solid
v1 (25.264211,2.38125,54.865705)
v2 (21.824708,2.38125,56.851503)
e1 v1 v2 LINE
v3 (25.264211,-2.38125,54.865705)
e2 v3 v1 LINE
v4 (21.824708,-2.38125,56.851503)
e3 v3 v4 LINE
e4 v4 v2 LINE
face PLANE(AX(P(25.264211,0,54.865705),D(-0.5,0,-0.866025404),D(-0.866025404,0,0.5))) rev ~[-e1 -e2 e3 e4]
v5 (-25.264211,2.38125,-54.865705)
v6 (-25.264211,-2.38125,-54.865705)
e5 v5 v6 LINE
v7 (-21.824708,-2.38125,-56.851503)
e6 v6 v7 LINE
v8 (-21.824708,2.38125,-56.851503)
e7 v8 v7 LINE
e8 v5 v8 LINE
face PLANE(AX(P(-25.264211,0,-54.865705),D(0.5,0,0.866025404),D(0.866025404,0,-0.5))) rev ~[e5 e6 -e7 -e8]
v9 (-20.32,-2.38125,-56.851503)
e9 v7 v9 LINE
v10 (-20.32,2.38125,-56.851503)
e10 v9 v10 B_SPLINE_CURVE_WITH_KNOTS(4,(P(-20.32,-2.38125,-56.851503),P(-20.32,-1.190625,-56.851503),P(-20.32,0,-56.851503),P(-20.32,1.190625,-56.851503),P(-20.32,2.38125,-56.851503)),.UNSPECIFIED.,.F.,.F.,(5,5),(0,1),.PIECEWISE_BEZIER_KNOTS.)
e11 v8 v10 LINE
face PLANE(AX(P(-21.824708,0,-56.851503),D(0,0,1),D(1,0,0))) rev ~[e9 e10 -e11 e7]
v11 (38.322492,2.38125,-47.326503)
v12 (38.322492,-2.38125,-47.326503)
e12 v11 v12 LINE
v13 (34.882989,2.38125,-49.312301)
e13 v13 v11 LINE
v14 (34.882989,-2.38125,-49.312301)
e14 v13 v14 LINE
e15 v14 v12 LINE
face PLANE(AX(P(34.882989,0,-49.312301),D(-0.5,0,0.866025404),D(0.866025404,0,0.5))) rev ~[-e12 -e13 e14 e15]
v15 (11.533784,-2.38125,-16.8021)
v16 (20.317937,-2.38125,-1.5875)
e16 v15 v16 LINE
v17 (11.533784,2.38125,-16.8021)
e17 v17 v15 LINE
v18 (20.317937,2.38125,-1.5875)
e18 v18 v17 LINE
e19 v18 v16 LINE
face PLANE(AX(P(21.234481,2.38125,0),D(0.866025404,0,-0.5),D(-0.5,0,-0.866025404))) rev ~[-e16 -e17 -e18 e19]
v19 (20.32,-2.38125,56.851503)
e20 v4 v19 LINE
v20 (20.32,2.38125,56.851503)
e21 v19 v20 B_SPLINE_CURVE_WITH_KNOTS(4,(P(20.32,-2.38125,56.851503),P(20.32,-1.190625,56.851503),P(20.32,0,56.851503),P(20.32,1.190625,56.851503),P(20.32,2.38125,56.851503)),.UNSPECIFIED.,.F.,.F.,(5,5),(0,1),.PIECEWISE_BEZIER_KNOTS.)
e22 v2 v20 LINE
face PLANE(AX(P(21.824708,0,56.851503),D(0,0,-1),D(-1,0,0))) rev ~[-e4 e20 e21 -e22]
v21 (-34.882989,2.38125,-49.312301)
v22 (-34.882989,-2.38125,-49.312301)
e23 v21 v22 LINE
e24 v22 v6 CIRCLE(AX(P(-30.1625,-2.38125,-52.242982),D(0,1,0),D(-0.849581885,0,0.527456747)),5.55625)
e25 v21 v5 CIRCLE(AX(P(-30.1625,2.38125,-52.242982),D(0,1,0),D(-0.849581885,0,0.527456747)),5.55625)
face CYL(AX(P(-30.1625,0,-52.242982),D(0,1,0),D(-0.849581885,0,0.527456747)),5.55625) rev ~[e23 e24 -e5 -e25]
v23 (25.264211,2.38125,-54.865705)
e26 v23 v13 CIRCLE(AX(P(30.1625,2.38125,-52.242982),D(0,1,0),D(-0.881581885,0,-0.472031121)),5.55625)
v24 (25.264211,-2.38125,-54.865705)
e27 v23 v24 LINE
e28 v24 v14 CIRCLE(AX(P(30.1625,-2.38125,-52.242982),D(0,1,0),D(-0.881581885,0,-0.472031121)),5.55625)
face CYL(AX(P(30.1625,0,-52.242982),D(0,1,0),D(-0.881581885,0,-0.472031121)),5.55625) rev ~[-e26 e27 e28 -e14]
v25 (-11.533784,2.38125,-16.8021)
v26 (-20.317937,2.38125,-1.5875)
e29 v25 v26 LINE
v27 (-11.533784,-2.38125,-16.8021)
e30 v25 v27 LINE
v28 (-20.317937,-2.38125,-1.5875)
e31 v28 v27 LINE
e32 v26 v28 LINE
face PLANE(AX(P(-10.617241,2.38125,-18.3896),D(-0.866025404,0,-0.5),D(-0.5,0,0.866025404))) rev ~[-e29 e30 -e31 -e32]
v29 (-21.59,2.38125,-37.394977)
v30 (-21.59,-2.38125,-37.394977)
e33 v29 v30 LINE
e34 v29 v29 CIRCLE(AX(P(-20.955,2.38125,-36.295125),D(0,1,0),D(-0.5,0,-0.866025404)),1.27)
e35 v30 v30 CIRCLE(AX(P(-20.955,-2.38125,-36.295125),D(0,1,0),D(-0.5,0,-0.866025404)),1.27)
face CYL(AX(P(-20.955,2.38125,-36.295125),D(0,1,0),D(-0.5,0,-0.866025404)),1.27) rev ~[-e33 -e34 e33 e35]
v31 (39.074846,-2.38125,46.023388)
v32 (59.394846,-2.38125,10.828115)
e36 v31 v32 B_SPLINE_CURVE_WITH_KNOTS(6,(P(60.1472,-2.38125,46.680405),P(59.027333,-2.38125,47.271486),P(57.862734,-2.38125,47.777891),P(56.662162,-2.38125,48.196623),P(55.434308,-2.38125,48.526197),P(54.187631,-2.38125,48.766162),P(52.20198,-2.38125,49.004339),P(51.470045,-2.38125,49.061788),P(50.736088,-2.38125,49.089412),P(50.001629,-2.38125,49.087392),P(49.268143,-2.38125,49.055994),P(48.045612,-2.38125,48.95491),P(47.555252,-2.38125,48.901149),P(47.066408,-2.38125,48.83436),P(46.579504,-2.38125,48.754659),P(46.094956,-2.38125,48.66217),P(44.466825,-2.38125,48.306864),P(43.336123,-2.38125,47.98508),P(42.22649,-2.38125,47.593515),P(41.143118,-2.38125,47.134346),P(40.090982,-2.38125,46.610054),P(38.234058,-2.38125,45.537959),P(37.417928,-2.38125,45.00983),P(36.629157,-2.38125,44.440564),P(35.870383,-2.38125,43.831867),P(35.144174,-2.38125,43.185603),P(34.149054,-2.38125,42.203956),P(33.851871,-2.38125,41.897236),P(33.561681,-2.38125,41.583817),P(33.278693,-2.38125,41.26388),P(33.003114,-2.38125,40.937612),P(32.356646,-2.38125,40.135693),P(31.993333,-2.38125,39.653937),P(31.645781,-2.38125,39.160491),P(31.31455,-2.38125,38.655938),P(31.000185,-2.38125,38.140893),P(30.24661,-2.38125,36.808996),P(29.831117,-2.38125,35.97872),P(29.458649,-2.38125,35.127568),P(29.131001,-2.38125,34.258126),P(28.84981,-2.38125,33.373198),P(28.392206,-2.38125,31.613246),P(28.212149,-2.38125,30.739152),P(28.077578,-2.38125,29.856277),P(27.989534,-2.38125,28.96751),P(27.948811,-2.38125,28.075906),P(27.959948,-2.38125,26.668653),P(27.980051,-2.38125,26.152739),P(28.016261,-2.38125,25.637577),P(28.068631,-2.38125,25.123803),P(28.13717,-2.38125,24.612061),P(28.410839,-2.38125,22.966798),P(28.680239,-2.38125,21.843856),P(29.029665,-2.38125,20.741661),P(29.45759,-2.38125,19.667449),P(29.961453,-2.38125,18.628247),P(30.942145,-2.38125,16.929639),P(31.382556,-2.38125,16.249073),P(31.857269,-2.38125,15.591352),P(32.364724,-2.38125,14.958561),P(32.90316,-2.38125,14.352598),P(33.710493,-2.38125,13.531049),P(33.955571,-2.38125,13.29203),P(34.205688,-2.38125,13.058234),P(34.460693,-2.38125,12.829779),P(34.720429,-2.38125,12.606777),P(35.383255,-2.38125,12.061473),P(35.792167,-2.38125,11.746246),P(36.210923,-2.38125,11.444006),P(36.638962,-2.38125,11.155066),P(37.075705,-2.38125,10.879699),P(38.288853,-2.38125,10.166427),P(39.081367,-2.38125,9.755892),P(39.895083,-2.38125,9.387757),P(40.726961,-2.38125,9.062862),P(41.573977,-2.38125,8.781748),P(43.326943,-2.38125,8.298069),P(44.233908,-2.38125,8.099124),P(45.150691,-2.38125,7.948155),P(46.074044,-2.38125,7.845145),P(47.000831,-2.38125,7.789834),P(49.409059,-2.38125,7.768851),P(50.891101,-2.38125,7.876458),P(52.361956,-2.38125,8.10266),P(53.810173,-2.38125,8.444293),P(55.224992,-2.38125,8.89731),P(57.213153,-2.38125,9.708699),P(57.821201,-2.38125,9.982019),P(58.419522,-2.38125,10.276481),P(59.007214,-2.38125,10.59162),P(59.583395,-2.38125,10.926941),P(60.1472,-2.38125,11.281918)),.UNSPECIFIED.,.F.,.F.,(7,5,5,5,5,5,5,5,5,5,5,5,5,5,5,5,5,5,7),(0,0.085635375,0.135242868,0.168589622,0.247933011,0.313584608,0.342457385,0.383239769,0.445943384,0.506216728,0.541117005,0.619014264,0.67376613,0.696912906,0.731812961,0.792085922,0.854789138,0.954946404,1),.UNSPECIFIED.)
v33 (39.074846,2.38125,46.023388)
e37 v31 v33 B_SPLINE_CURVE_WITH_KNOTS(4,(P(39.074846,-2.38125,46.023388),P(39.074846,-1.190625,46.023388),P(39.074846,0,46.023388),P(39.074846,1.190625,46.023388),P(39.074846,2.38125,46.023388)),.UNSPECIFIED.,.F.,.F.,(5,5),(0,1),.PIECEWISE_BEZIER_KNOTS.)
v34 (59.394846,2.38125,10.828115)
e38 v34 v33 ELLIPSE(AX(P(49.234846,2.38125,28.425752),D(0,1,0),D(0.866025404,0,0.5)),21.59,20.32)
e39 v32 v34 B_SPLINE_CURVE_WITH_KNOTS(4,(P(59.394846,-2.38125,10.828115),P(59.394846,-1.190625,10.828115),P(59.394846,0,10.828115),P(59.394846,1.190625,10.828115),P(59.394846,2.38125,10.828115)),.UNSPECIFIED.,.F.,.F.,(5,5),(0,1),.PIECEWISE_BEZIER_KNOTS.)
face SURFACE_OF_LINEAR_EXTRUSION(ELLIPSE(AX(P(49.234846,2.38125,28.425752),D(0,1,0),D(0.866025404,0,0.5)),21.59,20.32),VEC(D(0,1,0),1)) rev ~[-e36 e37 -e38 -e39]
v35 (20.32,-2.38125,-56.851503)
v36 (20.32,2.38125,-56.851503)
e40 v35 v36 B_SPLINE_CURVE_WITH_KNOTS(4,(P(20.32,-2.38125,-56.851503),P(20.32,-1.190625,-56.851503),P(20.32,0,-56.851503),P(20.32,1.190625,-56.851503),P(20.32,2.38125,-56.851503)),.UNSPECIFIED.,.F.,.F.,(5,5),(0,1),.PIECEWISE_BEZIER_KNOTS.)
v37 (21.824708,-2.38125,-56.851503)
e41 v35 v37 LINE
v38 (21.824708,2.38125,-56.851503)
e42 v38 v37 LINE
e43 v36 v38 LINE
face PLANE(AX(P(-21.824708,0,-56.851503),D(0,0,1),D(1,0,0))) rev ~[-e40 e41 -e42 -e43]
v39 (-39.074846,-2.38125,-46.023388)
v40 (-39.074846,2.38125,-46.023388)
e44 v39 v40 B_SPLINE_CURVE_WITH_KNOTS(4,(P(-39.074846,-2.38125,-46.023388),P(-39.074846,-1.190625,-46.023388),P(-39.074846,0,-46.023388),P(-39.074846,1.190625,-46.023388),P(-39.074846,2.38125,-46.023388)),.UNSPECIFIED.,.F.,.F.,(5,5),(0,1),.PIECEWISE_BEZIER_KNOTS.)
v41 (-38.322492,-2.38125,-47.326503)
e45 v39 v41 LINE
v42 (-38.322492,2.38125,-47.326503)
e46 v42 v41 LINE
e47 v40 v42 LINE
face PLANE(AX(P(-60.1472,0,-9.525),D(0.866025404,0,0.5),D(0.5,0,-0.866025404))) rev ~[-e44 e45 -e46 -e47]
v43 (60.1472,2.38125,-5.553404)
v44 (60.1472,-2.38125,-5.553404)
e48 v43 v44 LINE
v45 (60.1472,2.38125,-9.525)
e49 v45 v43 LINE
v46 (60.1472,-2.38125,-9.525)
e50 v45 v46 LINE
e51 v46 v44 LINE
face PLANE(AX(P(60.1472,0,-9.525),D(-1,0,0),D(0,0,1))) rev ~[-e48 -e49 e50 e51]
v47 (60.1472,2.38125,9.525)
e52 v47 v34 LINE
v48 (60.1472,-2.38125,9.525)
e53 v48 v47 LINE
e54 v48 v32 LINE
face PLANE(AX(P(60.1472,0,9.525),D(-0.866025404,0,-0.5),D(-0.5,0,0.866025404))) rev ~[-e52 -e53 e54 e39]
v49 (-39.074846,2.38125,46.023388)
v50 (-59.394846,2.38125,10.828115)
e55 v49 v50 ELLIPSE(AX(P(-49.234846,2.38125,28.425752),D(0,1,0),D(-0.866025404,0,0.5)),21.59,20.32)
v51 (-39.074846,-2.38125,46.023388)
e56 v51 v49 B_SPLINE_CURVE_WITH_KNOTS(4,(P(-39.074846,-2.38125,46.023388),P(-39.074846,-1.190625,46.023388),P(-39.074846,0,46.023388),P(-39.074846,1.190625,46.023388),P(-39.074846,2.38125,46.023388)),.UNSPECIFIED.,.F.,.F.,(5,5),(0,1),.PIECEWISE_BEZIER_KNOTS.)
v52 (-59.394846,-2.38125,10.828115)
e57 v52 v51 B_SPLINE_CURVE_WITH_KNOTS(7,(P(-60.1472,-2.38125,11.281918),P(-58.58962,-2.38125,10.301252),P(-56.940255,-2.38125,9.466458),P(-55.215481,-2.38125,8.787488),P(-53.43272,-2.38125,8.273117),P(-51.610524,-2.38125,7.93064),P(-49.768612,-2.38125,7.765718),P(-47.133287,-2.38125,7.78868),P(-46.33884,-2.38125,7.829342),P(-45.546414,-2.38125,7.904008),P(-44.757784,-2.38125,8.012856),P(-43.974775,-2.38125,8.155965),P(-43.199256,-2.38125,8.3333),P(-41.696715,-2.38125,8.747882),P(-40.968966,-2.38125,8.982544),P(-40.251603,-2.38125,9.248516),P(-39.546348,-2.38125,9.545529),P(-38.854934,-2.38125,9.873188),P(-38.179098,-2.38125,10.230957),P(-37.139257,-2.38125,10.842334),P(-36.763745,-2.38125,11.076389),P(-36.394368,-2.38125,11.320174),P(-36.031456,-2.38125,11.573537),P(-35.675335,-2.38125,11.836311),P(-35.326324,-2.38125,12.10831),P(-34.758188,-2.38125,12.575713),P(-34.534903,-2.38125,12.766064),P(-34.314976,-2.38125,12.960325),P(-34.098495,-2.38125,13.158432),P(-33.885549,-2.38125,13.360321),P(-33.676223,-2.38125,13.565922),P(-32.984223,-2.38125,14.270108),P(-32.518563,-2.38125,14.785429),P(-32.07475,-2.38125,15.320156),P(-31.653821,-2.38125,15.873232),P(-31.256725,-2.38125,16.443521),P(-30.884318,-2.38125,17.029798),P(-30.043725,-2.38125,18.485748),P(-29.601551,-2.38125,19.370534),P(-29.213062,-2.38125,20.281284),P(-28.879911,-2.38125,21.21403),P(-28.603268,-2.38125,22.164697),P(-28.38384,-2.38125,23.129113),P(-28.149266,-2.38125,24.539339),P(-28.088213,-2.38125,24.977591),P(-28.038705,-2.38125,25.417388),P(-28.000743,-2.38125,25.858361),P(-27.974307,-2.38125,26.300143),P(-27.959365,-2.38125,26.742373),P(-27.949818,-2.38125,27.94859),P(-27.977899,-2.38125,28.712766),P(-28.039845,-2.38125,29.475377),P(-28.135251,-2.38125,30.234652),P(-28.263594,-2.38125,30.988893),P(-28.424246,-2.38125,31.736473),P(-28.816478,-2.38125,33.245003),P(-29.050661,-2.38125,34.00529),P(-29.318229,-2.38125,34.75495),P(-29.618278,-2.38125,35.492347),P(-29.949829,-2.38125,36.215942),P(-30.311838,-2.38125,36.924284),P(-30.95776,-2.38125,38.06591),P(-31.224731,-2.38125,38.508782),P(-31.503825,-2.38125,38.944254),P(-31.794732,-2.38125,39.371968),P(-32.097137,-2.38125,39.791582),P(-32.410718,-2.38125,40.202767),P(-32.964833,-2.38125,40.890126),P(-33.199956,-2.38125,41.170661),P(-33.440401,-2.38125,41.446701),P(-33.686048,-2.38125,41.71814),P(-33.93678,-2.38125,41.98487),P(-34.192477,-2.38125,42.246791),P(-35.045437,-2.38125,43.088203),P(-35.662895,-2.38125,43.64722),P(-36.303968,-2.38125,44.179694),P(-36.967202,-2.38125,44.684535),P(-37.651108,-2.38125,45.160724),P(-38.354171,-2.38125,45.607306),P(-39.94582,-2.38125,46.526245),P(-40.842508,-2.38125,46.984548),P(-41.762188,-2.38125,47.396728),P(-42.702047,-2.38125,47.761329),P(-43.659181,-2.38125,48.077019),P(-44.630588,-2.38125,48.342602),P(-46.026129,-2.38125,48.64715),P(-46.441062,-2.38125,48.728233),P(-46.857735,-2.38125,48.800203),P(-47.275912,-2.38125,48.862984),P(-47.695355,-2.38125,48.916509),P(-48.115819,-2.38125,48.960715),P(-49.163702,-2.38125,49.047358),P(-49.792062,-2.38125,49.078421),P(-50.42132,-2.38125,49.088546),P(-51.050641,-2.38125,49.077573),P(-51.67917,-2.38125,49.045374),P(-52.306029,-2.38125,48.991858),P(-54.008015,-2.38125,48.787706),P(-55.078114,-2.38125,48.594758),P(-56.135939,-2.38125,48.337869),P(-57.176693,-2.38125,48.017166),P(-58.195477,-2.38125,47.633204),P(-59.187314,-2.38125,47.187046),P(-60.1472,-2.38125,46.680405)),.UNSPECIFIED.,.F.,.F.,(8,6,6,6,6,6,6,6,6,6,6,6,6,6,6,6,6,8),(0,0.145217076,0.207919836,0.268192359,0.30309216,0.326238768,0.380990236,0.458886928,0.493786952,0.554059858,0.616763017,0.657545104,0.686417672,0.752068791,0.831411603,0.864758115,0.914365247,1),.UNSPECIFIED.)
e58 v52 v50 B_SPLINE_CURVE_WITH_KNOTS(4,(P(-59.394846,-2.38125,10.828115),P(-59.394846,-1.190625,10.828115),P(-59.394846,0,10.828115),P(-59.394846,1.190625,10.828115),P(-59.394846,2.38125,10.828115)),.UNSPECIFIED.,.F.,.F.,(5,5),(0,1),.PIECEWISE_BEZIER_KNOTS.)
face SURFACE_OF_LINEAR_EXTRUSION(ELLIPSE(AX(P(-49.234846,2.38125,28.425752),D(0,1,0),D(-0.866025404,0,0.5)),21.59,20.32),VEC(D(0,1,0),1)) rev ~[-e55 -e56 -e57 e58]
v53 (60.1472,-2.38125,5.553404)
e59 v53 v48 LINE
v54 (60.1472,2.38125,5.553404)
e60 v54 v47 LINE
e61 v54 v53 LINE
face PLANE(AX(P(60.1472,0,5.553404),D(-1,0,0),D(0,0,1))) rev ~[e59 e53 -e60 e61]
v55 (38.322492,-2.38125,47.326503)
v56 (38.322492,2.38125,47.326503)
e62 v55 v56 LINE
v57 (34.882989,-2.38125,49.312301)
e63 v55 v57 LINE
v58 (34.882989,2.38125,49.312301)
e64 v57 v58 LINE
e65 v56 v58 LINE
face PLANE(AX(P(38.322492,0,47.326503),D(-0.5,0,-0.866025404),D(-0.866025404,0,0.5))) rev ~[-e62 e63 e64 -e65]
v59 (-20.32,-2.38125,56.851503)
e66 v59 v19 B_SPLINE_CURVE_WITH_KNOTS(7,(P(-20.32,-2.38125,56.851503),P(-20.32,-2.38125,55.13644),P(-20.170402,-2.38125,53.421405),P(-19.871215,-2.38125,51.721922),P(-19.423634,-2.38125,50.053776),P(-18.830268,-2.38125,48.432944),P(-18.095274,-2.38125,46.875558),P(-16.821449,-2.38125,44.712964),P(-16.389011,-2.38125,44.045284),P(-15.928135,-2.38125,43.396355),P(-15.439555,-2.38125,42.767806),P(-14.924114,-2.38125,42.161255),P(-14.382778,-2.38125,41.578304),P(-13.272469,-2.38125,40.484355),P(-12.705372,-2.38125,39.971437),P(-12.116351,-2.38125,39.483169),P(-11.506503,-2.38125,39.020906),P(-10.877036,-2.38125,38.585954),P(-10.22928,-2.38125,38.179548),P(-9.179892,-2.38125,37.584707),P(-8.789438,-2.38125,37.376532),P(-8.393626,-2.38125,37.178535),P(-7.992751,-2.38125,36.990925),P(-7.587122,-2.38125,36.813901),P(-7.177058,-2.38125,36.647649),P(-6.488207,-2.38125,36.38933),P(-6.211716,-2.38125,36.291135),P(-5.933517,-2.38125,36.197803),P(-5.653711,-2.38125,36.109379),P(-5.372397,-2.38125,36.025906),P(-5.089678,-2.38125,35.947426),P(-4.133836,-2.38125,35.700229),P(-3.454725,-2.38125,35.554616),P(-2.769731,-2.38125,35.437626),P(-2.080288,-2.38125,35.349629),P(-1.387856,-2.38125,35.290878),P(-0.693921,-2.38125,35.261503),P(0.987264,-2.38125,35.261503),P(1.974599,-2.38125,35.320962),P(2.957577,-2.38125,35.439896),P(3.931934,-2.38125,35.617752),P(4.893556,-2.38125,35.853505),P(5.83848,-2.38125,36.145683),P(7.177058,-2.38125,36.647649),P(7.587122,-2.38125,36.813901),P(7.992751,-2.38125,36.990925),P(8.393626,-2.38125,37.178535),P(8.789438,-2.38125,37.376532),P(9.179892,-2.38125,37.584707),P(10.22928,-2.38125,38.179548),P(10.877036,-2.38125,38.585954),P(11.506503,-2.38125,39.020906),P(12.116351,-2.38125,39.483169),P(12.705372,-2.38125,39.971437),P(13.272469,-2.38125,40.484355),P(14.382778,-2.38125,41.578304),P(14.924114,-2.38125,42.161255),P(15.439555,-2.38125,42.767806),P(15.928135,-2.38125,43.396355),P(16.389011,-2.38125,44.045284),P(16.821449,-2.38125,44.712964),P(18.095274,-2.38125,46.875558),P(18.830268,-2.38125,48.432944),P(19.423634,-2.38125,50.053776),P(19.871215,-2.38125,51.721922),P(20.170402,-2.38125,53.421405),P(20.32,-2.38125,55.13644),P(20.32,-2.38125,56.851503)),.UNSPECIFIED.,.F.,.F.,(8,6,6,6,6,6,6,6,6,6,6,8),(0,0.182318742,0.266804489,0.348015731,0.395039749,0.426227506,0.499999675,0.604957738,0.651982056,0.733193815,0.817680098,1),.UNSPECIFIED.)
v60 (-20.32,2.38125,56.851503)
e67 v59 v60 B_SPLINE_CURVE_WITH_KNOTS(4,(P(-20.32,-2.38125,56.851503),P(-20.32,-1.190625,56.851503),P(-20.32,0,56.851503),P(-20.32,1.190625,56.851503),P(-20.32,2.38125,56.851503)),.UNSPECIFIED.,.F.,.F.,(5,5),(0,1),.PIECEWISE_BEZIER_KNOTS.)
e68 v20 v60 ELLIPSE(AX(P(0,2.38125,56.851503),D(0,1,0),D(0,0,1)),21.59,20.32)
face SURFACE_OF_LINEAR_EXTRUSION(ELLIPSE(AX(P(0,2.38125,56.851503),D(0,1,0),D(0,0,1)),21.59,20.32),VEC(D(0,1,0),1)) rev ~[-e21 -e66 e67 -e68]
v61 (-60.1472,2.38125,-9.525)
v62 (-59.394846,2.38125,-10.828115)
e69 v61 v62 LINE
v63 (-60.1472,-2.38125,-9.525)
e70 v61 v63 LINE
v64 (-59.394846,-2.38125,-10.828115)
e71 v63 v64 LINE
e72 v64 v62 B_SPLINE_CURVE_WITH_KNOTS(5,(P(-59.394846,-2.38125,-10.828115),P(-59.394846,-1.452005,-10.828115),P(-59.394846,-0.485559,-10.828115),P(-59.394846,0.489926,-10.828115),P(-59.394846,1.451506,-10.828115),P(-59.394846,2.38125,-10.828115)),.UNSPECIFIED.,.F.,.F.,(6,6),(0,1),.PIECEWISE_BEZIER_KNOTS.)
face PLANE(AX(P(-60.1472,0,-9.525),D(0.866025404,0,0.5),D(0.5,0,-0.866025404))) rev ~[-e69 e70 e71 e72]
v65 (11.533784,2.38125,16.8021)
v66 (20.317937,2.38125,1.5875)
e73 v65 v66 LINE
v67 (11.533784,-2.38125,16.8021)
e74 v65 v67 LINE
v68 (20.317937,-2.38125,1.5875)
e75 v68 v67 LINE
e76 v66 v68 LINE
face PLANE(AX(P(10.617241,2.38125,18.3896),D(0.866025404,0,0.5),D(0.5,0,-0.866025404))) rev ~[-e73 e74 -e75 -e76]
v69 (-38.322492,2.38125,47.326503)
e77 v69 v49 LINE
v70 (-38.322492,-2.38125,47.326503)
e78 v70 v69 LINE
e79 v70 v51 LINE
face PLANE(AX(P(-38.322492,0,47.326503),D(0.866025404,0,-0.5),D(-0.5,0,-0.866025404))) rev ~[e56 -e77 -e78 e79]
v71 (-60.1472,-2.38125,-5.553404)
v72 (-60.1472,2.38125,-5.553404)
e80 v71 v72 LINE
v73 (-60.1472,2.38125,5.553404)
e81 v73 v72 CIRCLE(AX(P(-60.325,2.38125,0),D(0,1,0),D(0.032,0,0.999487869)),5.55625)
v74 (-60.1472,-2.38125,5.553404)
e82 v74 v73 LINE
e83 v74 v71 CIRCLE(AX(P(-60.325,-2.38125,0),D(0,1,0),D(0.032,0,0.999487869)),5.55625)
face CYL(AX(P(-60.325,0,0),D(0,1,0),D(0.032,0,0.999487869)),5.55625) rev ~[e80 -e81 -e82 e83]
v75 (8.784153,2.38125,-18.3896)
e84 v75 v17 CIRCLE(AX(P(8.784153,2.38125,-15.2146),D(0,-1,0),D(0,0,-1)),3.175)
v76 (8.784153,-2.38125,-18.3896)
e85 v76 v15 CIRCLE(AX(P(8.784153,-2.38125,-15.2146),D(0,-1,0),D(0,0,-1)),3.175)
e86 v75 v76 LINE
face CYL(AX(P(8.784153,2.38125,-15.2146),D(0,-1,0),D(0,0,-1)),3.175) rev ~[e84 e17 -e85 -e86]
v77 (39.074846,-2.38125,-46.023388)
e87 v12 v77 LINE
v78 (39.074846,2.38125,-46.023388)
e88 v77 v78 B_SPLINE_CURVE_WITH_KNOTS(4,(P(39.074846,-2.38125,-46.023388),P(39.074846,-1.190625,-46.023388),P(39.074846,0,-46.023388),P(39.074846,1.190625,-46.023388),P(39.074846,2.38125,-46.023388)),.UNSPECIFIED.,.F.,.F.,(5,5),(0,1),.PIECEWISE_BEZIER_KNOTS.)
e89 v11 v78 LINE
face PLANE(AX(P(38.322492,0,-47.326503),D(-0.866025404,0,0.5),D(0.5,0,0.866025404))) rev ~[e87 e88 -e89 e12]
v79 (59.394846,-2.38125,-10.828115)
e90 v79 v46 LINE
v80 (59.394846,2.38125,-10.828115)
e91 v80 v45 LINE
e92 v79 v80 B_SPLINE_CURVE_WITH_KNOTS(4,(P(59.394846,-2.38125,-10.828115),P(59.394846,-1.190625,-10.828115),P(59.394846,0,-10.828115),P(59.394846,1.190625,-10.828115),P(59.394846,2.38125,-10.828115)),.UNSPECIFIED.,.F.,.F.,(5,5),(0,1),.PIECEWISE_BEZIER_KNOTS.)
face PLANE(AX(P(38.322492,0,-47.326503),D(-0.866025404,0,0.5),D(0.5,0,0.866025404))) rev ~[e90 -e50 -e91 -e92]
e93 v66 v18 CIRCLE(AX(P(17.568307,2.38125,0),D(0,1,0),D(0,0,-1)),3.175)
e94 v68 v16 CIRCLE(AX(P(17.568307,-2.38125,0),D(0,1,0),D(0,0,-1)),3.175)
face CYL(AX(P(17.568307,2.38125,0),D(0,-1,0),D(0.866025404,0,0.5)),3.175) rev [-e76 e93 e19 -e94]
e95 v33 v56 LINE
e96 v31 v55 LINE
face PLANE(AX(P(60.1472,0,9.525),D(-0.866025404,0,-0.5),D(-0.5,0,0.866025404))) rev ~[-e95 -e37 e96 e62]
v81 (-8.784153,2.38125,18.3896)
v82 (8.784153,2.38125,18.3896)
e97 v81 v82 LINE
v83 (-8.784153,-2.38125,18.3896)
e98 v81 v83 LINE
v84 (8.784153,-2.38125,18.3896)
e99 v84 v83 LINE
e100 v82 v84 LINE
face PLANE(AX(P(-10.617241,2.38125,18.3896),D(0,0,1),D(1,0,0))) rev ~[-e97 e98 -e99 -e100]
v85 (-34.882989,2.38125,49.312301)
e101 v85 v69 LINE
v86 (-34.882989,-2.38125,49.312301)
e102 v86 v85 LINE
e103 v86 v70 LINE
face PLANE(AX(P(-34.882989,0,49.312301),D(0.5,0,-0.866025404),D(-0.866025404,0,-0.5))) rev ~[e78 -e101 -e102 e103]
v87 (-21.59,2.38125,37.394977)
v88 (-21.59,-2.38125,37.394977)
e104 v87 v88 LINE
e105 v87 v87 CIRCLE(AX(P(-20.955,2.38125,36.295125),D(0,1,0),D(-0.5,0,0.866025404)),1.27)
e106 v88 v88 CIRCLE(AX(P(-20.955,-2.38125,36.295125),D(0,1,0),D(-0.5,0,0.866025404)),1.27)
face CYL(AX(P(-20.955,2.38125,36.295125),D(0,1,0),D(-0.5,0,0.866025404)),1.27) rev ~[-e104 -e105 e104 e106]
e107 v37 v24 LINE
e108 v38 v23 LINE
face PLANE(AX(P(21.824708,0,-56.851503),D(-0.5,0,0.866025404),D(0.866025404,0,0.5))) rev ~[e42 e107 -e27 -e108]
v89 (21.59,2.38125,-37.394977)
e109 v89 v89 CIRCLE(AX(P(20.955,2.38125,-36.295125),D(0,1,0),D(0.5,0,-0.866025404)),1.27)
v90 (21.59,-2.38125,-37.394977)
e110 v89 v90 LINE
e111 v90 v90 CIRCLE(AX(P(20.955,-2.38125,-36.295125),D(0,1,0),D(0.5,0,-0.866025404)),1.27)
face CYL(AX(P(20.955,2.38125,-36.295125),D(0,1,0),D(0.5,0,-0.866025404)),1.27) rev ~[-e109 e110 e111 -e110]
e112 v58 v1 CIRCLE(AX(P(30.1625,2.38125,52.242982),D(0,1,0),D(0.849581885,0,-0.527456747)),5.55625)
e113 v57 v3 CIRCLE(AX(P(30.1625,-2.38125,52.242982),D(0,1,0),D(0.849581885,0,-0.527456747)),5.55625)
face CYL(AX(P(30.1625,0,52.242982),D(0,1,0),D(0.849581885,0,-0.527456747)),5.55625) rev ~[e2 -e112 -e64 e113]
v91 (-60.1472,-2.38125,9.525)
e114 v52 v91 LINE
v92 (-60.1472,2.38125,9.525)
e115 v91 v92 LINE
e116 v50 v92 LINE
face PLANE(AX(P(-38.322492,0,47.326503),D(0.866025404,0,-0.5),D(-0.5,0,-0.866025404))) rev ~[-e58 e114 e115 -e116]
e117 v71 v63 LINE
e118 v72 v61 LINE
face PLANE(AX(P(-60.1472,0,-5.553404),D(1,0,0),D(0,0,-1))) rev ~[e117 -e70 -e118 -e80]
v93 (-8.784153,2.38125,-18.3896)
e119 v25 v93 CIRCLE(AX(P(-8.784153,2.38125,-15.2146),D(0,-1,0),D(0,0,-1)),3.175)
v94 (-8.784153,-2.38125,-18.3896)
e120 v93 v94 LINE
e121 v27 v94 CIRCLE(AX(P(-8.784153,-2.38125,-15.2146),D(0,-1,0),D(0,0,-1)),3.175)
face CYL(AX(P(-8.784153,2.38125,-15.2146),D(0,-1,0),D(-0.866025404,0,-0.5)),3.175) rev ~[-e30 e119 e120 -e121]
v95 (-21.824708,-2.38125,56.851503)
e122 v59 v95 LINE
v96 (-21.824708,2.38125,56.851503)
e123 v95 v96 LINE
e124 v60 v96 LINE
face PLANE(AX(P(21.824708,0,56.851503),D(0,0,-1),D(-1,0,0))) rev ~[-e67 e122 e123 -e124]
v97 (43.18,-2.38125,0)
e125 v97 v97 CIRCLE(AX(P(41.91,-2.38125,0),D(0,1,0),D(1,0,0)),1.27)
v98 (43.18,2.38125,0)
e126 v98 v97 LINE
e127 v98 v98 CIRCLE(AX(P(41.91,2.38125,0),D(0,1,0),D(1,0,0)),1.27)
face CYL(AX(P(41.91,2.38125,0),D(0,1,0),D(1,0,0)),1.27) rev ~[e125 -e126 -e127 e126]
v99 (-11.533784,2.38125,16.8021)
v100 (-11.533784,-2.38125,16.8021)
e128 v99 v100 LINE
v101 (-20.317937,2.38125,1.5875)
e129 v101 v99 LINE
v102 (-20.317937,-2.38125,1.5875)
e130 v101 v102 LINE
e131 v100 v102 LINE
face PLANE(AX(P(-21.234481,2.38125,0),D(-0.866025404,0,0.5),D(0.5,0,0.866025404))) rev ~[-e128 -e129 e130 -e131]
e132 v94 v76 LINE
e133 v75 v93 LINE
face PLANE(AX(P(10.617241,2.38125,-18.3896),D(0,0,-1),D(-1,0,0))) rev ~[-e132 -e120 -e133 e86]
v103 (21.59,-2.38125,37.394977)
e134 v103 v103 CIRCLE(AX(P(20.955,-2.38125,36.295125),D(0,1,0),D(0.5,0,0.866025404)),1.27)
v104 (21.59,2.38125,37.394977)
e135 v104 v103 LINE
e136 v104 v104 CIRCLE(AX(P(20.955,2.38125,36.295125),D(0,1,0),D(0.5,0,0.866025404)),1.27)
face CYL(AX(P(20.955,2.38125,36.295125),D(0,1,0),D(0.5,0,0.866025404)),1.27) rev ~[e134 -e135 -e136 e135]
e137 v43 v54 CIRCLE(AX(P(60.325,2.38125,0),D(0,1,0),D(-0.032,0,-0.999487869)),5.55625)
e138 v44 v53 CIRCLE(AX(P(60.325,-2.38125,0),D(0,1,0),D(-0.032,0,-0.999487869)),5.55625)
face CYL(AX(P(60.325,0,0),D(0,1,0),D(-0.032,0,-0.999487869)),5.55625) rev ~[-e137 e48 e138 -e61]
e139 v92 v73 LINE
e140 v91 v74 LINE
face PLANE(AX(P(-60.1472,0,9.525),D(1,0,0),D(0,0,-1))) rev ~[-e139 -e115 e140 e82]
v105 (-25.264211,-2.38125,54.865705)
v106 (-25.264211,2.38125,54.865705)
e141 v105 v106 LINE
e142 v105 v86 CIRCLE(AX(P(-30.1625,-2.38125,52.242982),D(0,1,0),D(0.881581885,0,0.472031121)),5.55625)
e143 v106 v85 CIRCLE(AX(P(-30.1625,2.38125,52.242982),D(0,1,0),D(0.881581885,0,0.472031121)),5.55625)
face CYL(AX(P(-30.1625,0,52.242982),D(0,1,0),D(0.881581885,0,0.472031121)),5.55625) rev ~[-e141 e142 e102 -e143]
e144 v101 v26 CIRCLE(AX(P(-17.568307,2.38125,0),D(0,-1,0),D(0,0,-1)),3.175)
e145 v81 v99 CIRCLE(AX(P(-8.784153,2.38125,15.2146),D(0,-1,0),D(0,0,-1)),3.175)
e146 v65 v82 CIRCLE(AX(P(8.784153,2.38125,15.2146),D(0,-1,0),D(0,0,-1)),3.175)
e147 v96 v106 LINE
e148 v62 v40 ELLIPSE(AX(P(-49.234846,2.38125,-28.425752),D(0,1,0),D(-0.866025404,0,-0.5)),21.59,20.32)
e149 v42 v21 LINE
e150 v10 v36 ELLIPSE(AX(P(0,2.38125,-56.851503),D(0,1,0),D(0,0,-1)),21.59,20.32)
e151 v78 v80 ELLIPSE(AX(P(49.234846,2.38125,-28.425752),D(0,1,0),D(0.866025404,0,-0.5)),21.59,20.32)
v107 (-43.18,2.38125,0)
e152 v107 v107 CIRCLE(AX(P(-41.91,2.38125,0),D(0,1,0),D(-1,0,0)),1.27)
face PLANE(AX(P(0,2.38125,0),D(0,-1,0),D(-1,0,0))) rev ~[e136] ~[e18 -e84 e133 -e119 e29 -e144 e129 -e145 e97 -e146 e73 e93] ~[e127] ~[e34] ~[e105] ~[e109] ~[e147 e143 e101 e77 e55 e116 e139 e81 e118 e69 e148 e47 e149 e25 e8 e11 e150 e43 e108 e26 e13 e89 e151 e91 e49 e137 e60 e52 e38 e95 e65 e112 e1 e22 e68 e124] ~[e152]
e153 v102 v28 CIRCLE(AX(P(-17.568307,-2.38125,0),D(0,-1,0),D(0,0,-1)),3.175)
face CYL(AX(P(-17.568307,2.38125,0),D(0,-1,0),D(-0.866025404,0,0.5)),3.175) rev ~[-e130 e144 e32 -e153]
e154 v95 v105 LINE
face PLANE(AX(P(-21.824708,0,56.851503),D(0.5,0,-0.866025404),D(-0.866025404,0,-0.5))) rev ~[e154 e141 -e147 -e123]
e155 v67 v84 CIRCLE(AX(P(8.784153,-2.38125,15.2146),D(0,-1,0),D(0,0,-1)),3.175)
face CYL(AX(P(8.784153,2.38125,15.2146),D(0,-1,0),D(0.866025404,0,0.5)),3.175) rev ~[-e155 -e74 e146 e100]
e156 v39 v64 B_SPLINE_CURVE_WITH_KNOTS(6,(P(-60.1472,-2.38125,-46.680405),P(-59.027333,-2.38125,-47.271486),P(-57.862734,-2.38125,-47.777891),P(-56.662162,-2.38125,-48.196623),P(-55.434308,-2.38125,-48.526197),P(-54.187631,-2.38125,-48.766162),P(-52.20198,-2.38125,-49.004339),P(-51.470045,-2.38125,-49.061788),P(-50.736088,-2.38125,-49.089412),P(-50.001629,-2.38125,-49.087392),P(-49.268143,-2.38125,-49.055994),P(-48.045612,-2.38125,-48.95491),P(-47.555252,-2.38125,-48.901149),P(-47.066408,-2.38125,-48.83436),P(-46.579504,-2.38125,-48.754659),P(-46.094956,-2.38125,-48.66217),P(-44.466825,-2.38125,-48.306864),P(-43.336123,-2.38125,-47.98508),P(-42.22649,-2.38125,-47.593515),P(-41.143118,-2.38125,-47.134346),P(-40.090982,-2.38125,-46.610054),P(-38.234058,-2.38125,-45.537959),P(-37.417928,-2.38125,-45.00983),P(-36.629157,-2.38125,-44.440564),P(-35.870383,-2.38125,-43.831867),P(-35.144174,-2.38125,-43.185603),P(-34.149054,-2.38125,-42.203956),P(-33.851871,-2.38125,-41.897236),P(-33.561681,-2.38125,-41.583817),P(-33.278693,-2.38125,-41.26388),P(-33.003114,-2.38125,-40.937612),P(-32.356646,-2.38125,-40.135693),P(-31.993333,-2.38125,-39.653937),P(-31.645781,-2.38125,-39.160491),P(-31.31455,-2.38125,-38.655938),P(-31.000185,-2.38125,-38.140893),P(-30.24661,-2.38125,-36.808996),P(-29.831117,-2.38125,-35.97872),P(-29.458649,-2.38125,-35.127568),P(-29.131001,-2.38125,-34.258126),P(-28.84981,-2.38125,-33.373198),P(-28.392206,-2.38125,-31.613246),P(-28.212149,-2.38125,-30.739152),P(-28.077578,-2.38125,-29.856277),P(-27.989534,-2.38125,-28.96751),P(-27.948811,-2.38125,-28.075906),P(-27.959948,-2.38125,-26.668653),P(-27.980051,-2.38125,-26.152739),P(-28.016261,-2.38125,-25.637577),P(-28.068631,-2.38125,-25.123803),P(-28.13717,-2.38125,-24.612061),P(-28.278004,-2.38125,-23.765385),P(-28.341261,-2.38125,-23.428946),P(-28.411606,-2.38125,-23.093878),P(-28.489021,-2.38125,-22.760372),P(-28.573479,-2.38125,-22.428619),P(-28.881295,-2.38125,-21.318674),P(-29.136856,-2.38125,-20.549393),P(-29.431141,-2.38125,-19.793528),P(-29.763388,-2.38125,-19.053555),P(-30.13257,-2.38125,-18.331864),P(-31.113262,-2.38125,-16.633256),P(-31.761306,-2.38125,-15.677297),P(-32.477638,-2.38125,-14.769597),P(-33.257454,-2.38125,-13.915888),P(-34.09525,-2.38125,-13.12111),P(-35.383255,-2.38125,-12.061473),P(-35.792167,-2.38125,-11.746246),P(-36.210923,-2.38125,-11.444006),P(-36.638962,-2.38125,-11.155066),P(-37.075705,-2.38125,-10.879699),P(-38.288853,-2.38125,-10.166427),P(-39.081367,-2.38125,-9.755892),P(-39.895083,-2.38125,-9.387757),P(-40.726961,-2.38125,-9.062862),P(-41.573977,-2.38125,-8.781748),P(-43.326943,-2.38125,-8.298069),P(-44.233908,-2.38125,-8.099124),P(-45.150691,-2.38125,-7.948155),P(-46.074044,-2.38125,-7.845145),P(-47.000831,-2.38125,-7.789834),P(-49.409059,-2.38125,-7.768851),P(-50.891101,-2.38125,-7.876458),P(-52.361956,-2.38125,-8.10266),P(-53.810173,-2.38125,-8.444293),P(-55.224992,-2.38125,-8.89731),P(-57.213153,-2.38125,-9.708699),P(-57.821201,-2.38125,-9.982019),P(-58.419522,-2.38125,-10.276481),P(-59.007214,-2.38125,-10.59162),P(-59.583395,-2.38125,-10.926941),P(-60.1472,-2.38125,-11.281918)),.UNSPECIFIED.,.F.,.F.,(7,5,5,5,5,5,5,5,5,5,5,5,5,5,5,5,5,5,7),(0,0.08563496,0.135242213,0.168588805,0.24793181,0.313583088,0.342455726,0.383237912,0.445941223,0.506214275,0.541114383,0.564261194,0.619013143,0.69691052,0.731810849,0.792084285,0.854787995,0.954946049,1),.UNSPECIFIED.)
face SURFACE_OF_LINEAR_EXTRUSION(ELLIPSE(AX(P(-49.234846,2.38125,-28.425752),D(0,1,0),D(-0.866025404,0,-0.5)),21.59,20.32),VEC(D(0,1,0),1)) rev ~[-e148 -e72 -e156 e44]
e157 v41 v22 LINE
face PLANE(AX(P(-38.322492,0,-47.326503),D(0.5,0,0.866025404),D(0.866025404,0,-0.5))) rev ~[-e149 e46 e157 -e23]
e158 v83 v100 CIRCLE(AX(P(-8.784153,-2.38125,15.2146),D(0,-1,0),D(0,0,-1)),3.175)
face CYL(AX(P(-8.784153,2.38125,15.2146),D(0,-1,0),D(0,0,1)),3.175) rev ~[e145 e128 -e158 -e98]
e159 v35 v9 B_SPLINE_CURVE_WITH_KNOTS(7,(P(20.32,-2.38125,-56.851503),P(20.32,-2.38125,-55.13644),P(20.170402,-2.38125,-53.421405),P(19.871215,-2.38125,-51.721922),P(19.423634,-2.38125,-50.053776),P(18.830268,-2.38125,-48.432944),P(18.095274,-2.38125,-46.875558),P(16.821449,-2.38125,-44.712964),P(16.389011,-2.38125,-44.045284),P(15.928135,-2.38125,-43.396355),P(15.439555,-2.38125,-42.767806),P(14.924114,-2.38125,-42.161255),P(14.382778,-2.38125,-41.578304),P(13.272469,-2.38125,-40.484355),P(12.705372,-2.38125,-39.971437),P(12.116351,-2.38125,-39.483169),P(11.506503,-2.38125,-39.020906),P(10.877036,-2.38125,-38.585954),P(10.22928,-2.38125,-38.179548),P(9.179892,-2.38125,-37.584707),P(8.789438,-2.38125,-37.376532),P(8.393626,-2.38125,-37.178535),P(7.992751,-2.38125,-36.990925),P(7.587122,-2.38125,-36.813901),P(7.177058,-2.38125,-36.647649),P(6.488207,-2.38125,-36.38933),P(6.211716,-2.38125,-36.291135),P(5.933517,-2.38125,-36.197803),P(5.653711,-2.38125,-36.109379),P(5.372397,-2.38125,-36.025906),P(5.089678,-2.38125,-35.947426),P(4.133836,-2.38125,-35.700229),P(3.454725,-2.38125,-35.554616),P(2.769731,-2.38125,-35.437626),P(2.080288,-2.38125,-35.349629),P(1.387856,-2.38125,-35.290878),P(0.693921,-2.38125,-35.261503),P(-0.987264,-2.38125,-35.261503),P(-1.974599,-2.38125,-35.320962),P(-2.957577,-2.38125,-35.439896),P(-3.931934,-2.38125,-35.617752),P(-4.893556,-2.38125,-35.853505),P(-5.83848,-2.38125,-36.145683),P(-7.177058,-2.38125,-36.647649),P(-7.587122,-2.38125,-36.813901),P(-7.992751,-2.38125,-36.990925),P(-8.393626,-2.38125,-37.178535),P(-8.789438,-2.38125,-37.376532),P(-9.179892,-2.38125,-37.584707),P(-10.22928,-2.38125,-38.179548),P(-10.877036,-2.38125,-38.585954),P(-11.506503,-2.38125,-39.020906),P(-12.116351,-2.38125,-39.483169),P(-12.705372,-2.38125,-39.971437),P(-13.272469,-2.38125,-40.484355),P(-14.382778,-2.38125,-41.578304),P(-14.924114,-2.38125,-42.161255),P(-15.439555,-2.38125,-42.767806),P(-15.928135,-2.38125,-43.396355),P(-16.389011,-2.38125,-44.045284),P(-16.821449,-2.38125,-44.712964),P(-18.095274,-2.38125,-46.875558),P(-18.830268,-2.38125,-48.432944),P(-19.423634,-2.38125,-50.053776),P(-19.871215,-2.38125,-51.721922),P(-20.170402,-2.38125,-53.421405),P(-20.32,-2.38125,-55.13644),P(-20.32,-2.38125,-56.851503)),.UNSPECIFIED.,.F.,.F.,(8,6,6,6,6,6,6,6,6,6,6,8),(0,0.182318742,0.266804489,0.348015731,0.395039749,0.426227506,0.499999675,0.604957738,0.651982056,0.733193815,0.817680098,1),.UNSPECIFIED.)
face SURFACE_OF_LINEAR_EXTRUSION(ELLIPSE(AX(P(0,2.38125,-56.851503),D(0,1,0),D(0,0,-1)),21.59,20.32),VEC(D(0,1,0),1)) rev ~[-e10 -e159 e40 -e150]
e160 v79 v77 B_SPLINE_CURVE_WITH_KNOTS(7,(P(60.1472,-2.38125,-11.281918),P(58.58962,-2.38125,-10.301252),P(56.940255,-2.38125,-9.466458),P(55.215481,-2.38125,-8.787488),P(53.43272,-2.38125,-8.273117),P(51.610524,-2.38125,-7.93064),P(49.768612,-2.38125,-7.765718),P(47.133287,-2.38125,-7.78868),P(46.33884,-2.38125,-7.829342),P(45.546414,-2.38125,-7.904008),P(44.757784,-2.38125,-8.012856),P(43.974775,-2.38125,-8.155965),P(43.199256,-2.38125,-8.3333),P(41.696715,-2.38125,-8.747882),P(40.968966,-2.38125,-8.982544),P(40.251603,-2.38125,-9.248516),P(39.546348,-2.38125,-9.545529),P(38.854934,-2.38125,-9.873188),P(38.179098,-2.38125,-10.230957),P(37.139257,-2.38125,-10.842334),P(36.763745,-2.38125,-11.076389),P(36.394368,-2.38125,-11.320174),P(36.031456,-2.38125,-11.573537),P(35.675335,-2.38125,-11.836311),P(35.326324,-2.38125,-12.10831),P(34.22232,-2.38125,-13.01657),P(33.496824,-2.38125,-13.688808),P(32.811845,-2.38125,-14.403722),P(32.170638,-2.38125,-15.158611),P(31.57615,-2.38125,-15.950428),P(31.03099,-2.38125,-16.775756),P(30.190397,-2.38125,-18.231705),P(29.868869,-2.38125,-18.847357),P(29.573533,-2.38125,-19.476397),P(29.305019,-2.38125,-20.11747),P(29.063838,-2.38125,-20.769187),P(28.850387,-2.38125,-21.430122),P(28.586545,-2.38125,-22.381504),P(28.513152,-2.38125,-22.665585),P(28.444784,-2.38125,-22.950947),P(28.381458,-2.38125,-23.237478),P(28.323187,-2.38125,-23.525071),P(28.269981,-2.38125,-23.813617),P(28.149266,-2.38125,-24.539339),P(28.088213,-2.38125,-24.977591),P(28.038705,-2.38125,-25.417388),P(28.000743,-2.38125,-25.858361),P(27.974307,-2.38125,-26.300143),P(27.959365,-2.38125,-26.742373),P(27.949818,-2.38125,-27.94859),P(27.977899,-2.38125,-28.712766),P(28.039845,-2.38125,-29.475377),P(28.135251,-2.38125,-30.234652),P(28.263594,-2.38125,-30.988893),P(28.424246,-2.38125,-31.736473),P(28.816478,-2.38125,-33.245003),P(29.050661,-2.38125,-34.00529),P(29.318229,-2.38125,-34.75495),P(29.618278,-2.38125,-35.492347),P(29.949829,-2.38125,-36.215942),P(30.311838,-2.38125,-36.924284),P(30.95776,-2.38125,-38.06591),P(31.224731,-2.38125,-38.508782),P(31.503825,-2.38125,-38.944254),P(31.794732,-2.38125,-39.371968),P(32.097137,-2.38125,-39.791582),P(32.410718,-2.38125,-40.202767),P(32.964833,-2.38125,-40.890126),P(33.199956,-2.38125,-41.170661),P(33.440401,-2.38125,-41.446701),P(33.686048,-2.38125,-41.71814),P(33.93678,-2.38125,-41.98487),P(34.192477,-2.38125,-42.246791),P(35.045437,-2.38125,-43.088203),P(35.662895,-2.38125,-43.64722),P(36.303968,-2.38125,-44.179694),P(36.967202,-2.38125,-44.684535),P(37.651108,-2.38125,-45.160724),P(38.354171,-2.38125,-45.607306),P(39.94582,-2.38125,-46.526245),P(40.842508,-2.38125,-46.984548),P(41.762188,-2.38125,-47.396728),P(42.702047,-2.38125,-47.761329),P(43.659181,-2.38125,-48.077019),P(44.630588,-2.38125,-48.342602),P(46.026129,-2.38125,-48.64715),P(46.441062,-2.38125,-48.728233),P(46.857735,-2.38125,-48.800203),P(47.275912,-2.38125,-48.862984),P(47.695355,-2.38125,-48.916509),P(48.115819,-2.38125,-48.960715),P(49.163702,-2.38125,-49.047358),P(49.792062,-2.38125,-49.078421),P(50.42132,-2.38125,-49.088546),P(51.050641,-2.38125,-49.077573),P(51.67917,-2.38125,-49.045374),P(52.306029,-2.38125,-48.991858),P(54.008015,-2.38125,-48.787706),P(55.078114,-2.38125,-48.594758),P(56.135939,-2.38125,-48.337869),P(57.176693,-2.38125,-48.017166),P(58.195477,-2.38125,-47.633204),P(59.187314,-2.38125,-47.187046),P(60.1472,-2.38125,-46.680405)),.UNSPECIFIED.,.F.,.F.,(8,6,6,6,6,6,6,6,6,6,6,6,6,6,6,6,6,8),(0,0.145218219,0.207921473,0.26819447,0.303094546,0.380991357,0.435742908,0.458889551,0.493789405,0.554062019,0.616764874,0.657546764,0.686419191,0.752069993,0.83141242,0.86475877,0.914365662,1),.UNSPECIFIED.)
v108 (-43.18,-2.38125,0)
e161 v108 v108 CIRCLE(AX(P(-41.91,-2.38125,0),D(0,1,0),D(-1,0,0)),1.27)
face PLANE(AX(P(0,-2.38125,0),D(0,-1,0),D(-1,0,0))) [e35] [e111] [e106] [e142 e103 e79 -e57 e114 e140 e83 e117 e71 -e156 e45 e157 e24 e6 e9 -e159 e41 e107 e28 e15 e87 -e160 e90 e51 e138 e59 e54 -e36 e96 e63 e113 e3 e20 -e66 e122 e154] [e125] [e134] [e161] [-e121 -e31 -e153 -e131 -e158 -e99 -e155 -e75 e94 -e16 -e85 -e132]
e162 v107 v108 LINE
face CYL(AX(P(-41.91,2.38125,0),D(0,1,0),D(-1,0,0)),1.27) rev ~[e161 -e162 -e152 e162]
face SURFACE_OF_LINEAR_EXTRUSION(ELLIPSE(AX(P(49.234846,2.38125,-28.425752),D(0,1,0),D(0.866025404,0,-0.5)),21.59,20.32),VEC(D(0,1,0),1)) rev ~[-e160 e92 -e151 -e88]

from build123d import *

# Parameters (mm, degrees)
SKETCH1_R           = 12.7
BOSS_EXTRUDE1_DEPTH = 2.38125
CUT_EXTRUDE1_DEPTH  = 5.7625
FILLET1_R           = 3.175
SKETCH3_RX          = 21.59
SKETCH3_RY          = 20.32
CUT_EXTRUDE2_DEPTH  = 5.7625
CIRPATTERN1_COUNT   = 6
SKETCH4_R           = 1.27
CUT_EXTRUDE3_DEPTH  = 5.7625001
CIRPATTERN2_COUNT   = 6


with BuildPart() as part:
    # Sketch1 → Boss-Extrude1 (new body, symmetric)
    with BuildSketch(Plane(origin=(0, 0, 0), x_dir=(1, 0, 0), z_dir=(0, 1, 0))):
        with BuildLine():
            Line((-60.1472, 5.553404471), (-60.1472, 9.525))
            Line((-60.1472, 9.525), (-38.322491971, 47.326503167))
            Line((-38.322491971, 47.326503167), (-34.88298935, 49.312300931))
            ThreePointArc((-34.88298935, 49.312300931), (-27.384375, 47.431128834), (-25.26421065, 54.865705402))
            Line((-25.26421065, 54.865705402), (-21.824708029, 56.851503167))
            Line((-21.824708029, 56.851503167), (21.824708029, 56.851503167))
            Line((21.824708029, 56.851503167), (25.26421065, 54.865705402))
            ThreePointArc((25.26421065, 54.865705402), (27.384375, 47.431128834), (34.88298935, 49.312300931))
            Line((34.88298935, 49.312300931), (38.322491971, 47.326503167))
            Line((38.322491971, 47.326503167), (60.1472, 9.525))
            Line((60.1472, 9.525), (60.1472, 5.553404471))
            ThreePointArc((60.1472, 5.553404471), (54.76875, 0), (60.1472, -5.553404471))
            Line((60.1472, -5.553404471), (60.1472, -9.525))
            Line((60.1472, -9.525), (38.322491971, -47.326503167))
            Line((38.322491971, -47.326503167), (34.88298935, -49.312300931))
            ThreePointArc((34.88298935, -49.312300931), (27.384375, -47.431128834), (25.26421065, -54.865705402))
            Line((25.26421065, -54.865705402), (21.824708029, -56.851503167))
            Line((21.824708029, -56.851503167), (-21.824708029, -56.851503167))
            Line((-21.824708029, -56.851503167), (-25.26421065, -54.865705402))
            ThreePointArc((-25.26421065, -54.865705402), (-27.384375, -47.431128834), (-34.88298935, -49.312300931))
            Line((-34.88298935, -49.312300931), (-38.322491971, -47.326503167))
            Line((-38.322491971, -47.326503167), (-60.1472, -9.525))
            Line((-60.1472, -9.525), (-60.1472, -5.553404471))
            ThreePointArc((-60.1472, -5.553404471), (-54.76875, 0), (-60.1472, 5.553404471))
        make_face()
        Circle(SKETCH1_R, mode=Mode.SUBTRACT)
    extrude(amount=BOSS_EXTRUDE1_DEPTH, both=True)

    # Sketch2 → Cut-Extrude1 (cut, through all)
    with BuildSketch(Plane(origin=(0, 2.38125, 0), x_dir=(1, 0, 0), z_dir=(0, 1, 0))):
        Polygon((10.61724051, -18.3896), (21.234481021, 0), (10.61724051, 18.3896), (-10.61724051, 18.3896), (-21.234481021, 0), (-10.61724051, -18.3896), align=None)
    extrude(amount=-CUT_EXTRUDE1_DEPTH, mode=Mode.SUBTRACT)

    # Fillet1
    fillet1_edges = [part.edges().sort_by_distance(p)[0] for p in [
        (10.61724051, 0, 18.3896),
        (-10.61724051, 0, 18.3896),
        (-21.234481021, 0, 0),
        (-10.61724051, 0, -18.3896),
        (10.61724051, 0, -18.3896),
        (21.234481021, 0, 0),
    ]]
    fillet(fillet1_edges, radius=FILLET1_R)

    # Sketch3 → Cut-Extrude2 (cut, through all)
    with BuildSketch(Plane(origin=(0, 2.38125, 0), x_dir=(1, 0, 0), z_dir=(0, 1, 0))):
        with Locations(Location((0, -56.851503167), (0, 0, -90))):
            Ellipse(SKETCH3_RX, SKETCH3_RY)
    cut_extrude2 = extrude(amount=-CUT_EXTRUDE2_DEPTH, mode=Mode.SUBTRACT)

    # CirPattern1: Cut-Extrude2 ×6 about axis
    cirpattern1_axis = Axis((0, -2.619375, 0), (0, 1, 0))
    for i in range(1, CIRPATTERN1_COUNT):
        add(cut_extrude2.rotate(cirpattern1_axis, i * 360 / CIRPATTERN1_COUNT), mode=Mode.SUBTRACT)

    # Sketch4 → Cut-Extrude3 (cut, through all)
    with BuildSketch(Plane(origin=(0, 2.38125, 0), x_dir=(1, 0, 0), z_dir=(0, 1, 0))):
        with Locations((41.91, 0)):
            Circle(SKETCH4_R)
    cut_extrude3 = extrude(amount=-CUT_EXTRUDE3_DEPTH, mode=Mode.SUBTRACT)

    # CirPattern2: Cut-Extrude3 ×6 about axis
    cirpattern2_axis = Axis((0, 0, 0), (0, 1, 0))
    for i in range(1, CIRPATTERN2_COUNT):
        add(cut_extrude3.rotate(cirpattern2_axis, i * 360 / CIRPATTERN2_COUNT), mode=Mode.SUBTRACT)


solid = part.part
